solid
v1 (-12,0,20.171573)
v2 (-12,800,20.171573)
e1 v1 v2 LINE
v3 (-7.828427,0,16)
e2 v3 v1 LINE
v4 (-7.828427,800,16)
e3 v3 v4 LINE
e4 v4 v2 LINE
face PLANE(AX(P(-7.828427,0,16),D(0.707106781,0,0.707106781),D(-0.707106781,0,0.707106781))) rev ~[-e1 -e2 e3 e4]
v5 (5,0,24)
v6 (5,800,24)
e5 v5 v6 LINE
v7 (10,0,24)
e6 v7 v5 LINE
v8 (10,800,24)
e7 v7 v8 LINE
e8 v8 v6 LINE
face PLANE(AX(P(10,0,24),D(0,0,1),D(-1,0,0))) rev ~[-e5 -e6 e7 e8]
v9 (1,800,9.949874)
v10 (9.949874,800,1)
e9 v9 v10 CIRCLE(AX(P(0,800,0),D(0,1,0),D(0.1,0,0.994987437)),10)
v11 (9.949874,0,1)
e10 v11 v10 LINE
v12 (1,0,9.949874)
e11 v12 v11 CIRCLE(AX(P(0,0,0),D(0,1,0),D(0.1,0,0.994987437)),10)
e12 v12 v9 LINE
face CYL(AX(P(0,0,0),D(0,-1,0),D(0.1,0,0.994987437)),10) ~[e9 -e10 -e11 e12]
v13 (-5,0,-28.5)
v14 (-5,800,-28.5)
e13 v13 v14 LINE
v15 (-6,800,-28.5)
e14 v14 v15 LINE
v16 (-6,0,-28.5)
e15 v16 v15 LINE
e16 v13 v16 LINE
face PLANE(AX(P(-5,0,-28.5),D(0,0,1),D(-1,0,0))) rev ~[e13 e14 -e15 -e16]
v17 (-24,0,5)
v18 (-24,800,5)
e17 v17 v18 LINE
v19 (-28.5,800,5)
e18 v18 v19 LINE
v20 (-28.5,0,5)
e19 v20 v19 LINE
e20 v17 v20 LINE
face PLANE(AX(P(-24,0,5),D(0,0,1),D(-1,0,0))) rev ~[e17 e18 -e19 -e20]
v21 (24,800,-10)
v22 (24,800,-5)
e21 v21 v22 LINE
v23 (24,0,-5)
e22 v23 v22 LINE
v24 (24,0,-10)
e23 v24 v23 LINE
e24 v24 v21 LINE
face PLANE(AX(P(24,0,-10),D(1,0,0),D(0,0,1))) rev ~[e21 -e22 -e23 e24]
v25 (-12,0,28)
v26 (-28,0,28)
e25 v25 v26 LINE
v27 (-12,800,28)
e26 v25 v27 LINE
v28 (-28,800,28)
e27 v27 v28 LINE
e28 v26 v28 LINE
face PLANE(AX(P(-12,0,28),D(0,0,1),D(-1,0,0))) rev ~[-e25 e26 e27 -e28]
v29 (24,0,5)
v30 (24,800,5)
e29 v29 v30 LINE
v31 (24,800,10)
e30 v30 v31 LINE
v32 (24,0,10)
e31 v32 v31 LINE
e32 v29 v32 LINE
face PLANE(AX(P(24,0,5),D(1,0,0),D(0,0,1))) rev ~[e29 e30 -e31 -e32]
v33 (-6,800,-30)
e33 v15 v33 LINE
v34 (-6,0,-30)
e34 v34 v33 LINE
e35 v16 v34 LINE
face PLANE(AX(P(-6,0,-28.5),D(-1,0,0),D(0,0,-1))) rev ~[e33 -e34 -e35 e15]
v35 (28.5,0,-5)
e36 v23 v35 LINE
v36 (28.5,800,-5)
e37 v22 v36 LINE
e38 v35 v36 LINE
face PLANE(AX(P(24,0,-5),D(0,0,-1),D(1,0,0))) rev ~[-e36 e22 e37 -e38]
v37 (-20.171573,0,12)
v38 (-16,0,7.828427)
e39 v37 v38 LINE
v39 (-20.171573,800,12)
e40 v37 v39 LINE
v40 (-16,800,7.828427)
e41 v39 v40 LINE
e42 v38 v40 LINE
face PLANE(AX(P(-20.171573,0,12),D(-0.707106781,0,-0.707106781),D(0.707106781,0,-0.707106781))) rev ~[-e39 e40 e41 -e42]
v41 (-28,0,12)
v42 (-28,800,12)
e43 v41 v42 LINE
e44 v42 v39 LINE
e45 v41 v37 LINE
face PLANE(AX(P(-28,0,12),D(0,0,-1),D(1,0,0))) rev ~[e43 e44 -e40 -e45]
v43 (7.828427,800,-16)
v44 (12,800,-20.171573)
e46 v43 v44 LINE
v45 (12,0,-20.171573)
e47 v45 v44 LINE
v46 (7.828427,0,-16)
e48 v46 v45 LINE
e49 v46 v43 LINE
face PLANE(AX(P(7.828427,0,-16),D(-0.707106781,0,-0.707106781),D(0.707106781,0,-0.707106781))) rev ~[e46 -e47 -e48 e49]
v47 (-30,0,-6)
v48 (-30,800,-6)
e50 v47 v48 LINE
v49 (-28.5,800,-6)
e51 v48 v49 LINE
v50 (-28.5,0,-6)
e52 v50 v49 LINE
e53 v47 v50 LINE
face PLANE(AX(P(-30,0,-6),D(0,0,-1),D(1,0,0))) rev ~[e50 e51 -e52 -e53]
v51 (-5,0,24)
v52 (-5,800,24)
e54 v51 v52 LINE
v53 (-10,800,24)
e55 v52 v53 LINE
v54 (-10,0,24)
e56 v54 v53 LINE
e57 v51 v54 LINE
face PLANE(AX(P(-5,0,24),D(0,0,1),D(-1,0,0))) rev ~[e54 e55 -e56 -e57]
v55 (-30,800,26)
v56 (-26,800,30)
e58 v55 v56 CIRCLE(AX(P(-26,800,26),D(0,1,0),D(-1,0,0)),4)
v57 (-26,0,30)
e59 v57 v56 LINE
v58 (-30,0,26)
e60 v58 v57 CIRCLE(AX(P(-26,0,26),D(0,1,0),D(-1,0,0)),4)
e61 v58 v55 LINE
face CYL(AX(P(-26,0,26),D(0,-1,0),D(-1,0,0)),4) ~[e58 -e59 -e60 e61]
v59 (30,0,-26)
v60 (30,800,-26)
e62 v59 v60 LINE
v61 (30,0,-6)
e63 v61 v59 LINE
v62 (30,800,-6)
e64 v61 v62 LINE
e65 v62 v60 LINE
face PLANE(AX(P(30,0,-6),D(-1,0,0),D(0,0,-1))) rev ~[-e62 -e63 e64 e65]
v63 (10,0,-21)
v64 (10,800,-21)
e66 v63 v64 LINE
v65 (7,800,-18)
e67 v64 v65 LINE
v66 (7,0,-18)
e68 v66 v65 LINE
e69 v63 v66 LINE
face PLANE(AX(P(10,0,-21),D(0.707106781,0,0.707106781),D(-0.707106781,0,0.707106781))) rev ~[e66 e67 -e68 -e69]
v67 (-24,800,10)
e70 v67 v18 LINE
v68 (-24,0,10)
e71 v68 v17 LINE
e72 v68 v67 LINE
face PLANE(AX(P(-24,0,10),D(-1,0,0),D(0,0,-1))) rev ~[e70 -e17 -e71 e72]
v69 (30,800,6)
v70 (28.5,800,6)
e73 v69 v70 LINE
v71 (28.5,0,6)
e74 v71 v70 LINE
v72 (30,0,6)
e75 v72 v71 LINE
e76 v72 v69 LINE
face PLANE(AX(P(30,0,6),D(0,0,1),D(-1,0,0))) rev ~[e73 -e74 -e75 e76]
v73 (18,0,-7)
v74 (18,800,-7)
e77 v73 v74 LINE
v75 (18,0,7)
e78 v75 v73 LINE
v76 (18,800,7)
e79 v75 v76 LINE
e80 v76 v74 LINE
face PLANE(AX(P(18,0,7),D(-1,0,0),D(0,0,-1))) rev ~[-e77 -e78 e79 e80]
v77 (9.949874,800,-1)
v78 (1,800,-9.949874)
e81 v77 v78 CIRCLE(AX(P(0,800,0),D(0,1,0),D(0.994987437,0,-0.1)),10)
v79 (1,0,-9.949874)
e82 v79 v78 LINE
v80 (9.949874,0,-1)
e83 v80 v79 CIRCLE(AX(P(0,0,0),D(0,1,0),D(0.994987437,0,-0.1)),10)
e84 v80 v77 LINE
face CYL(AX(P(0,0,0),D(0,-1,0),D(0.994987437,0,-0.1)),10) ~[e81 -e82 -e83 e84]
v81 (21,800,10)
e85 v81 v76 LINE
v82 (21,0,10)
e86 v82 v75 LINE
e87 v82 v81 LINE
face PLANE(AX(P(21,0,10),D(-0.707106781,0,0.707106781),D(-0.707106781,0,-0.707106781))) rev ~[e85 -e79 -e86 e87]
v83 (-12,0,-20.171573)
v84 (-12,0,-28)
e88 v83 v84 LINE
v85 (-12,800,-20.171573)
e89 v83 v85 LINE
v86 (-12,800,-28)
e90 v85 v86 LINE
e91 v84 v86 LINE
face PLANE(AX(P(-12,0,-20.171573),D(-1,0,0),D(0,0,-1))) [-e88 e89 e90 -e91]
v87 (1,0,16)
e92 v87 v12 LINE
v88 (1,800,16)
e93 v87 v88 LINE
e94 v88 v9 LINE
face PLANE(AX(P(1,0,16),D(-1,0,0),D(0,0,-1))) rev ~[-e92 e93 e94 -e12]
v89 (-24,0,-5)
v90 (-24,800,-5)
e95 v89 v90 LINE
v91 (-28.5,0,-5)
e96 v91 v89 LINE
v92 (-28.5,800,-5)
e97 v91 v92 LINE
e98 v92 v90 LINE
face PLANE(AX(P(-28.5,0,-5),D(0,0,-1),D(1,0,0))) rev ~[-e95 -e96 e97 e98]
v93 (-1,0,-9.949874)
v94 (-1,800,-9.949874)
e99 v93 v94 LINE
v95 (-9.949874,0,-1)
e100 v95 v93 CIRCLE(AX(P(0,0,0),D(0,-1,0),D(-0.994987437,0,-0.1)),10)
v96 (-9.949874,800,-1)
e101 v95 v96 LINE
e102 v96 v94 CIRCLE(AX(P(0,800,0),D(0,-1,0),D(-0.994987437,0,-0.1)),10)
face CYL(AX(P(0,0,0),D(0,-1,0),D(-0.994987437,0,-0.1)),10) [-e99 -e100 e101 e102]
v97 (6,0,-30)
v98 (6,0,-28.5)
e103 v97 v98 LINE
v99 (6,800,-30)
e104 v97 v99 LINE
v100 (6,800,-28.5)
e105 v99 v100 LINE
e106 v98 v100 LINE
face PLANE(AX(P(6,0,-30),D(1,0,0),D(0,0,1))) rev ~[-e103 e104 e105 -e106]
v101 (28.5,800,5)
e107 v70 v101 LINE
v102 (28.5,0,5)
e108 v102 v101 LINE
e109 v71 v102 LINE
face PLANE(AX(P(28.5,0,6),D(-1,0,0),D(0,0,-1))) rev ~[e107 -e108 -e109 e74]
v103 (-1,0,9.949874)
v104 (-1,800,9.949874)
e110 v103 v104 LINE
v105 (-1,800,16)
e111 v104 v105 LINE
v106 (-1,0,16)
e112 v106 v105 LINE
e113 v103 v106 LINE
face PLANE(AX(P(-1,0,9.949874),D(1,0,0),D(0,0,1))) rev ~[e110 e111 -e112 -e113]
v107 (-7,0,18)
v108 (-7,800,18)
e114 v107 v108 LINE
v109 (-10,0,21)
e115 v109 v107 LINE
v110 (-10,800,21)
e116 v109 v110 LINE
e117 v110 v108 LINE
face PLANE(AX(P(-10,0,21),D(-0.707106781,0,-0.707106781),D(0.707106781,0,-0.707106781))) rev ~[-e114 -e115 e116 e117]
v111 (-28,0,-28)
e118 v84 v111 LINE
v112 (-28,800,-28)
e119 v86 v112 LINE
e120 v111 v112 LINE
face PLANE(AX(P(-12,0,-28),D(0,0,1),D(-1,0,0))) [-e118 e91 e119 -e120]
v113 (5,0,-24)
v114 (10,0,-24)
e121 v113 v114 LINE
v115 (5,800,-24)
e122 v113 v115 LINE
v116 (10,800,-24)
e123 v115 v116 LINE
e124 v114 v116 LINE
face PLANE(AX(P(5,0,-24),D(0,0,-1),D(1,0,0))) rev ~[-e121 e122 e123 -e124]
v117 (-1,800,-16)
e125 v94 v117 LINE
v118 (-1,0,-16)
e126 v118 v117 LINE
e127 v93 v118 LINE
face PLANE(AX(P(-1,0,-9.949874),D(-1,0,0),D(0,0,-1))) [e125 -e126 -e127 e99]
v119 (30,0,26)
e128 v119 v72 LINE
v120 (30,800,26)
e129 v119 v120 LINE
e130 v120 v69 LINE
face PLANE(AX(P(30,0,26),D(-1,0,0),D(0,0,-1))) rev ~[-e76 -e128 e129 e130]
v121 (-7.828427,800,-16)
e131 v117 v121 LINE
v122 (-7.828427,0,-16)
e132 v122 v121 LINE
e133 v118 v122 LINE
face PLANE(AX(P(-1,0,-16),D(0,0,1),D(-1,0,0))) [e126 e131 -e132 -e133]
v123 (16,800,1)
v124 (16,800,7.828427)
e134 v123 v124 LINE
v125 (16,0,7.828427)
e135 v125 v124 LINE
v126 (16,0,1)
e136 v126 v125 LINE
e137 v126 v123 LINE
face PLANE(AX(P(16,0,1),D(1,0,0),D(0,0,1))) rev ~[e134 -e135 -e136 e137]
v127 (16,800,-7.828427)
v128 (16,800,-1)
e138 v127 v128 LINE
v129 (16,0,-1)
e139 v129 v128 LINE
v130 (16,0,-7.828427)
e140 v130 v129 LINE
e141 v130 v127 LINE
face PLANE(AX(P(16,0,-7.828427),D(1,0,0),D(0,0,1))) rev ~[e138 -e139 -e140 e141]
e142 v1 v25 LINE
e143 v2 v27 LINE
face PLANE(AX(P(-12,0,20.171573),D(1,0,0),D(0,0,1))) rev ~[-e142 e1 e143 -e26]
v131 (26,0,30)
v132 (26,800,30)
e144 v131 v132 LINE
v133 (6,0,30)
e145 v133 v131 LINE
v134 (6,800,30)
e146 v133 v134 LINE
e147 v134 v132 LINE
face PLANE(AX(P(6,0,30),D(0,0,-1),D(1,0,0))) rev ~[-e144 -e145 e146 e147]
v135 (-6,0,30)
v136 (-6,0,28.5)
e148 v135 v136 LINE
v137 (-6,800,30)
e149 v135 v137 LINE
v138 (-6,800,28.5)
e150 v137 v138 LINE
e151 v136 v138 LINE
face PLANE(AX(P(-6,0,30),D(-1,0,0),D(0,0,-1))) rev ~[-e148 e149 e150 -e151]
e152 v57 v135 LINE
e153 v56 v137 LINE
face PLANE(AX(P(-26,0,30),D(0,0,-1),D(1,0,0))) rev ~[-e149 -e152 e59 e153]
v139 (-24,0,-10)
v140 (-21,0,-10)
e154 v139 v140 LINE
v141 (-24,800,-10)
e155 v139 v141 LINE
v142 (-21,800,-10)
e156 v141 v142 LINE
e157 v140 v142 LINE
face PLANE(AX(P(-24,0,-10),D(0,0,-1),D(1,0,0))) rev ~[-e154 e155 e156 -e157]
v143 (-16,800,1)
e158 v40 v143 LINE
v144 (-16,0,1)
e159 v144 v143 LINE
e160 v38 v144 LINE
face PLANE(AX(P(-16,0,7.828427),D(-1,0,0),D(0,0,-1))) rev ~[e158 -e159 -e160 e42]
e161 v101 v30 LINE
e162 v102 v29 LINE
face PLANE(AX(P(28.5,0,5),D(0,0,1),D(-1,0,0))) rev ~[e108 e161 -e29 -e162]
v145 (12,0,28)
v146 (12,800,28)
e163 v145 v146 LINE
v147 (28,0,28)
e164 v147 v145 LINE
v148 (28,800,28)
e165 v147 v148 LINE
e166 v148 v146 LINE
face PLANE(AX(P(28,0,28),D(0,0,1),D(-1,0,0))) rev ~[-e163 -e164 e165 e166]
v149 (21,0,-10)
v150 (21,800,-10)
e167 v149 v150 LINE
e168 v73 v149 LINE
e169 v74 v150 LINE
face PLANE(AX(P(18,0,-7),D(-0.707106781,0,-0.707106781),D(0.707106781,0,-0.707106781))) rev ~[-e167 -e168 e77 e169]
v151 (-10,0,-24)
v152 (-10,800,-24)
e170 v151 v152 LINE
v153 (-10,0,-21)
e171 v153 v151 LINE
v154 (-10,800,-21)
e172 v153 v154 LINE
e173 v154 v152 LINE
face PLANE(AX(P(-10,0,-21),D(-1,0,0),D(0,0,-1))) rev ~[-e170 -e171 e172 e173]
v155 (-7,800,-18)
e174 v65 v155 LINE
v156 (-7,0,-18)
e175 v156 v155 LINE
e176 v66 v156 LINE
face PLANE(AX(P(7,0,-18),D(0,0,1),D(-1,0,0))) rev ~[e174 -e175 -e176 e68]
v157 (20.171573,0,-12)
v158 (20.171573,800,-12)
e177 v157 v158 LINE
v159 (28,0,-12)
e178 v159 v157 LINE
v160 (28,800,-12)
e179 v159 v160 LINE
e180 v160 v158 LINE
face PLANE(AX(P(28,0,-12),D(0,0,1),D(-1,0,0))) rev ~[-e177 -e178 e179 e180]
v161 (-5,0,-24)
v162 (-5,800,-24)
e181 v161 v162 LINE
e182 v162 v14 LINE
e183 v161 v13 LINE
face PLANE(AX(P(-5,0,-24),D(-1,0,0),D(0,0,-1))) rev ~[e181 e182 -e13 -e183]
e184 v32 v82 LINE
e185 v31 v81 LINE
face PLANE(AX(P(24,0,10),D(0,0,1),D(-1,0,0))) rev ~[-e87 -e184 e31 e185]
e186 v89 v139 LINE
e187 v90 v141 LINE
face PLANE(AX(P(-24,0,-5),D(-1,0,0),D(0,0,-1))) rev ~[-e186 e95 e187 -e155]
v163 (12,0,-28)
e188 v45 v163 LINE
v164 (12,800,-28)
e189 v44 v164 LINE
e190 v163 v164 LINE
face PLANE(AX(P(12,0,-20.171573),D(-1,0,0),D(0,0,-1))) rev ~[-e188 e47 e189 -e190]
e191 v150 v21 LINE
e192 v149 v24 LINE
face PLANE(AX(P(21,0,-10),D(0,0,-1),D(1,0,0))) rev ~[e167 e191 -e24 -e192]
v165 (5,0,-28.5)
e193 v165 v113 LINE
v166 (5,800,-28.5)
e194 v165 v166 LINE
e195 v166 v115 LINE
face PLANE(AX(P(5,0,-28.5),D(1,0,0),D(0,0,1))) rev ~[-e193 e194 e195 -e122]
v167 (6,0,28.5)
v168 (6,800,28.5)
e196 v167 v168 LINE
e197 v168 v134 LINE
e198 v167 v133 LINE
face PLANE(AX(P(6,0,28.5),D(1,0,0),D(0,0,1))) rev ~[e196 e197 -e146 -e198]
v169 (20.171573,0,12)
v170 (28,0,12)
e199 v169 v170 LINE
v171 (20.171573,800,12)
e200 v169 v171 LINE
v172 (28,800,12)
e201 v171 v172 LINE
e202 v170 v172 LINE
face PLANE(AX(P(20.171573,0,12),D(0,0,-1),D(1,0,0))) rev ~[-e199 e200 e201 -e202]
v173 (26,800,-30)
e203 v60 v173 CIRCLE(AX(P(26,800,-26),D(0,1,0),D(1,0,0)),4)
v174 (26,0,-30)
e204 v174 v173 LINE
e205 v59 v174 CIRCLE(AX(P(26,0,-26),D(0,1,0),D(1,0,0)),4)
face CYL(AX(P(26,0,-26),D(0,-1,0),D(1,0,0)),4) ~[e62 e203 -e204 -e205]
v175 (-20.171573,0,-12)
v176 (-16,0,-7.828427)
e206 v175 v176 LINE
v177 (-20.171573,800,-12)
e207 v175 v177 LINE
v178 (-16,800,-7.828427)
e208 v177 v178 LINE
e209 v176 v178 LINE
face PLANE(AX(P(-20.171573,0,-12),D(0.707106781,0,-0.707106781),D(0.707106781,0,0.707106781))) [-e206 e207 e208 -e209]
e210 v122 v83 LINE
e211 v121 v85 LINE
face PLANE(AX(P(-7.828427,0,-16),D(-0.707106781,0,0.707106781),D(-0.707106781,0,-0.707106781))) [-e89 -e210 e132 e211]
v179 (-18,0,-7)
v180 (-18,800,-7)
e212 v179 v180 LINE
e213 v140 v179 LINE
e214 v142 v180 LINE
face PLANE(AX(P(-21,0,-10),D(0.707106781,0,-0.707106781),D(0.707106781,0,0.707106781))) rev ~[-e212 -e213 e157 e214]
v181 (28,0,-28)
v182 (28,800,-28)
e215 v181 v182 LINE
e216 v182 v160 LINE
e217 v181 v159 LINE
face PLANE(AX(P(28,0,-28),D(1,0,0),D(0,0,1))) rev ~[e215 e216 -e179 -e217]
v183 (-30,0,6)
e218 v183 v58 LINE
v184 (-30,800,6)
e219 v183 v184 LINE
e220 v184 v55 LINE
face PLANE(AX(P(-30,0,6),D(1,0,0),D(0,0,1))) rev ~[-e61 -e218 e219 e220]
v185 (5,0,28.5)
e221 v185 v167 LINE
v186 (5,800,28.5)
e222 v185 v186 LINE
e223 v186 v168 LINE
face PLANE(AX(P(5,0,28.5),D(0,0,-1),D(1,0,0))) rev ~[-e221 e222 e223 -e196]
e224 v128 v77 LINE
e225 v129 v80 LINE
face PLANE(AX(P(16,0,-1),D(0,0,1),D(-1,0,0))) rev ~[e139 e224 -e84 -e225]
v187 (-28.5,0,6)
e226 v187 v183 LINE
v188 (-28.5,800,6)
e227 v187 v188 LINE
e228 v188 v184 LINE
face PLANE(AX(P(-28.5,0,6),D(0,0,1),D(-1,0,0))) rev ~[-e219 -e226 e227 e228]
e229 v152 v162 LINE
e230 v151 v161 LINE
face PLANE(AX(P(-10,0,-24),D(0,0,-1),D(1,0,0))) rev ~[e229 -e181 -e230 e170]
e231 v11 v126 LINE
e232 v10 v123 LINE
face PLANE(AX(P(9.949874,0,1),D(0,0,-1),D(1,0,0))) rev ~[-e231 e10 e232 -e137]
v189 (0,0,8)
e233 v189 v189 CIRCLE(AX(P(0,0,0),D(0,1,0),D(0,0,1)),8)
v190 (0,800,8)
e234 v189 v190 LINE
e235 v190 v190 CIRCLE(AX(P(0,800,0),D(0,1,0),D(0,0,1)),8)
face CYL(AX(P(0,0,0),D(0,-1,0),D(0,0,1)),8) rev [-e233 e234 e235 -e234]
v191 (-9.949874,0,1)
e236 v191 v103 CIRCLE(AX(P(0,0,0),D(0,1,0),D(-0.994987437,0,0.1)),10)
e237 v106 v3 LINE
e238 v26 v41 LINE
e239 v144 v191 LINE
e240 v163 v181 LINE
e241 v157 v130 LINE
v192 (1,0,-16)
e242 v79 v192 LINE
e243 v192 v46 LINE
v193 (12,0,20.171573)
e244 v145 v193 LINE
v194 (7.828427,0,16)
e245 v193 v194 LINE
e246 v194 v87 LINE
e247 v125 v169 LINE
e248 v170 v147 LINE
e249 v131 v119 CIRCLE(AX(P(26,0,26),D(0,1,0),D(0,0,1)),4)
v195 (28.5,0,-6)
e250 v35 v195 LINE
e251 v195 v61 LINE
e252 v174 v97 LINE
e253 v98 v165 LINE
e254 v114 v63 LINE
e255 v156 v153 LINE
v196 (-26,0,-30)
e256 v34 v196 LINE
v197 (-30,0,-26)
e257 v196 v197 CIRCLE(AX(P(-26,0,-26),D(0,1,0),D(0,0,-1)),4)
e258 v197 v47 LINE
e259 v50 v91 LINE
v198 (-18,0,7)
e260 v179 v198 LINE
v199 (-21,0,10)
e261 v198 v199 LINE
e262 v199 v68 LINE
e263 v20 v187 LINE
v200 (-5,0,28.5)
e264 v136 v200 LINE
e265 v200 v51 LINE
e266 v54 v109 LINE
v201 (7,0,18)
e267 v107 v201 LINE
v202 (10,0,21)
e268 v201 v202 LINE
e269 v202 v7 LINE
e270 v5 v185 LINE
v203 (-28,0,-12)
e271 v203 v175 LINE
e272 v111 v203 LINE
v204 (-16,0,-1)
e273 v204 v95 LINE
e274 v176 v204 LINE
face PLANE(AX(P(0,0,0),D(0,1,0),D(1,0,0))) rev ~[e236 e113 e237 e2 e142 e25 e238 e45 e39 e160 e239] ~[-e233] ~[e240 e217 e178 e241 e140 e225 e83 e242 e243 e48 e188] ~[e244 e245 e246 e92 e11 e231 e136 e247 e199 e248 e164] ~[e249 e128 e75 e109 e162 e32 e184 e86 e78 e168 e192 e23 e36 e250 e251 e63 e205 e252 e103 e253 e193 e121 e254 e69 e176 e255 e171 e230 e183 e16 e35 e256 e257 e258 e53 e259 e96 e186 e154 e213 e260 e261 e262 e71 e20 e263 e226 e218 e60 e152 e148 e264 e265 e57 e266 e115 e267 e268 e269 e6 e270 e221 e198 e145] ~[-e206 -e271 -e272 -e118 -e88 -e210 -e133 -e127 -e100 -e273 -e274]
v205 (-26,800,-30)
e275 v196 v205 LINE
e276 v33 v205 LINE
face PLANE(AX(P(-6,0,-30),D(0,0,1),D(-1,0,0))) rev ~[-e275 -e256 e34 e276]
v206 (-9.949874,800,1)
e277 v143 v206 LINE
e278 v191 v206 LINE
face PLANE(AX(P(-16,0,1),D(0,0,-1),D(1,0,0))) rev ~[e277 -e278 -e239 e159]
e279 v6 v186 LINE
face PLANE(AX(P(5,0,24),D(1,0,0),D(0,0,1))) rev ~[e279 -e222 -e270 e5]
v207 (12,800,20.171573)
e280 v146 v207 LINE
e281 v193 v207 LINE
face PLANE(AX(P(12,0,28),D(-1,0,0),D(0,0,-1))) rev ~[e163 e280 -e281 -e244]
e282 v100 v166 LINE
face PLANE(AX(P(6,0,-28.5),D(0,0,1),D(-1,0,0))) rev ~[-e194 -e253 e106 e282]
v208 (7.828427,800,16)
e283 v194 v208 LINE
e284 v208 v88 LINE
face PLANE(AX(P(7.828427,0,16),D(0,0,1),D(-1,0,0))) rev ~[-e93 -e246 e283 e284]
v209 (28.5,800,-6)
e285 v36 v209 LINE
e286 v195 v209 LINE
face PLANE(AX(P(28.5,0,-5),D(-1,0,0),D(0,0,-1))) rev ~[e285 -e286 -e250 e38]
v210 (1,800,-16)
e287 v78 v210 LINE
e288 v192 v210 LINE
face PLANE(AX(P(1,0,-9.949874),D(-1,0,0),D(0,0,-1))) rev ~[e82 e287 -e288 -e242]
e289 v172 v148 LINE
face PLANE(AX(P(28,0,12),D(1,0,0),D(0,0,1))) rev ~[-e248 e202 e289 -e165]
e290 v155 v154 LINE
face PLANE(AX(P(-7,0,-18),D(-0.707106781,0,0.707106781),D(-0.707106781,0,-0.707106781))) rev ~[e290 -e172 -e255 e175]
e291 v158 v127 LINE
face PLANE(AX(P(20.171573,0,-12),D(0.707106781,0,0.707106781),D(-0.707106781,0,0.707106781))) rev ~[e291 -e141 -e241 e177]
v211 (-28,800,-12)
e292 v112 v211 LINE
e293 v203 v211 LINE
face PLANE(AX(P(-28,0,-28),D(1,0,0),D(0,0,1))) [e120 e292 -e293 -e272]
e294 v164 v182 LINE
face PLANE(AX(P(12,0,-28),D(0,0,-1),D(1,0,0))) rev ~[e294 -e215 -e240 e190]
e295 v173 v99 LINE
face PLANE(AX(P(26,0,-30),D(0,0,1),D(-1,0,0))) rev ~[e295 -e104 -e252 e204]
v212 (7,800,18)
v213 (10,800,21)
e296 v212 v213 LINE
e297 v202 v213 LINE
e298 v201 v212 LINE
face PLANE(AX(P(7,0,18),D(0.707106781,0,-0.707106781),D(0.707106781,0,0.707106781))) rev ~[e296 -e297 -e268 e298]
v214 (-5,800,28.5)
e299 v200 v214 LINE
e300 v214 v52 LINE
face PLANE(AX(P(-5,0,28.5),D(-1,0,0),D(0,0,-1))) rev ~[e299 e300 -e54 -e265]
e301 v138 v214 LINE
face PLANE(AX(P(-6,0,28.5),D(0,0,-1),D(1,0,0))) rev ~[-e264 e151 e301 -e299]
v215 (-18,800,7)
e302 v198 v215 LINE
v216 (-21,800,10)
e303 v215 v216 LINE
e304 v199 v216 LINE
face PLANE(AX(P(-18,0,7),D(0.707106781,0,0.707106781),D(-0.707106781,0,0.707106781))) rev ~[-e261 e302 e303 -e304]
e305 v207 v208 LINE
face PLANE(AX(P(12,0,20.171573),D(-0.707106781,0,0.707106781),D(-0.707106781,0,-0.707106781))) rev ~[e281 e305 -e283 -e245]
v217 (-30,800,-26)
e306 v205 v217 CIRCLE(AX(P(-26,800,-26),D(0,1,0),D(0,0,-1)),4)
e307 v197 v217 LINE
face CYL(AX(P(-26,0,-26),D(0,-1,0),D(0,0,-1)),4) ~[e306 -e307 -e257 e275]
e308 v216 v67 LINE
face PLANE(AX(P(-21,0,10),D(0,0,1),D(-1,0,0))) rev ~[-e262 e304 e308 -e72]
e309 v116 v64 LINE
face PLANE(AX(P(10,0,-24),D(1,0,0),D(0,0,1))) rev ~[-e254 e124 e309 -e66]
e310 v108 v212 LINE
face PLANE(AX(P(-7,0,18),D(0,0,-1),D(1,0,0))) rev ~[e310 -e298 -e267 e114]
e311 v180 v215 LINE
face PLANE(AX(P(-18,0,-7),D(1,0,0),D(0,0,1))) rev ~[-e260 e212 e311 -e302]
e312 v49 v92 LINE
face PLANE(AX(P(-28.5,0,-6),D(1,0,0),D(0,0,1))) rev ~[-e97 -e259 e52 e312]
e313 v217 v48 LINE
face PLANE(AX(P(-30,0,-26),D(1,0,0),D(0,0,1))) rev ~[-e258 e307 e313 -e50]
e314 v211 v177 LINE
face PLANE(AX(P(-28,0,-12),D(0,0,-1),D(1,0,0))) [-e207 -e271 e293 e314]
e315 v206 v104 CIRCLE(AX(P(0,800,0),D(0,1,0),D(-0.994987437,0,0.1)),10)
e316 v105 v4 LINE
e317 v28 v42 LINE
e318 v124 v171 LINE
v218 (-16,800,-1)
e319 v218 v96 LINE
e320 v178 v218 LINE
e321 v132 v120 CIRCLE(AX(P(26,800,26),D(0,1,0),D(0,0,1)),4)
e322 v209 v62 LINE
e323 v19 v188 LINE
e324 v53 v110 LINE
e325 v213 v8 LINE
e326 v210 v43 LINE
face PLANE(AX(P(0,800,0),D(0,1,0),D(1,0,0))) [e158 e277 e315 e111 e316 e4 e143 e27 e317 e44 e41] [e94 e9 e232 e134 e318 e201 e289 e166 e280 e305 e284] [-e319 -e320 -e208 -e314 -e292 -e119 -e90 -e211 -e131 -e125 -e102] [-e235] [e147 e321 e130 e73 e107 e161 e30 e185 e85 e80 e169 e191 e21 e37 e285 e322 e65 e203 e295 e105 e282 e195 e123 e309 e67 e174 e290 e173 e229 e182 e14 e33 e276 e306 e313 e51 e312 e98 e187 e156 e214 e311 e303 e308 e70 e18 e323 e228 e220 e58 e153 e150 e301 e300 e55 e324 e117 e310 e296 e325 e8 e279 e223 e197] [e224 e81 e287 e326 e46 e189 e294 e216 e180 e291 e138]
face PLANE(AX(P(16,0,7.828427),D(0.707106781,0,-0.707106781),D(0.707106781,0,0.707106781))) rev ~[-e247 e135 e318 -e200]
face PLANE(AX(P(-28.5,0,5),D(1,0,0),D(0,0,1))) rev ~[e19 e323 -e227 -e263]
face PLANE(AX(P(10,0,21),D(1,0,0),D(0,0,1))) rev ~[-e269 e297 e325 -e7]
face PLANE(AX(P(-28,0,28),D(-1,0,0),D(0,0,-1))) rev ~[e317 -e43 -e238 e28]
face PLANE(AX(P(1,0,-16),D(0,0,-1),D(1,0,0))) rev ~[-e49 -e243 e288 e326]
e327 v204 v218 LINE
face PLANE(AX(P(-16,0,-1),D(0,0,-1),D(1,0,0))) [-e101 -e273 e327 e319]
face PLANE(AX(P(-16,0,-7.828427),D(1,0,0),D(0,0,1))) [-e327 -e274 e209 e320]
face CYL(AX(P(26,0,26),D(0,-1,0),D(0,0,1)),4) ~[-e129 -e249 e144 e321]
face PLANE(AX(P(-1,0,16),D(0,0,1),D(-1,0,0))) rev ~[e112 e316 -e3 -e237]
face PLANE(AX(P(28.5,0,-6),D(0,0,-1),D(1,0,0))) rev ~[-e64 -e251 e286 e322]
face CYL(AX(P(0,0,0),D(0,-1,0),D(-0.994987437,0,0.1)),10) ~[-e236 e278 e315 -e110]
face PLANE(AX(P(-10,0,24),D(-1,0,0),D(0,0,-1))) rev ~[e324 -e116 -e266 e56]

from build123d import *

# Parameters (mm, degrees)
SKETCH_1_R      = 8
EXTRUDE_1_DEPTH = 800


with BuildPart() as part:
    # 草图1 → 凸台-拉伸1 (new body)
    with BuildSketch(Plane(origin=(0, 0, 0), x_dir=(1, 0, 0), z_dir=(0, 1, 0))):
        with BuildLine():
            Line((-30, 5.999999999), (-28.5, 5.999999999))
            Line((-28.5, 5.999999999), (-28.5, 4.999999999))
            Line((-28.5, 4.999999999), (-24, 4.999999999))
            Line((-24, 4.999999999), (-24, 9.999999999))
            Line((-24, 9.999999999), (-21, 9.999999999))
            Line((-21, 9.999999999), (-18, 6.999999999))
            Line((-18, 6.999999999), (-18, -7.000000001))
            Line((-18, -7.000000001), (-21, -10.000000001))
            Line((-21, -10.000000001), (-24, -10.000000001))
            Line((-24, -10.000000001), (-24, -5.000000001))
            Line((-24, -5.000000001), (-28.5, -5.000000001))
            Line((-28.5, -5.000000001), (-28.5, -6.000000001))
            Line((-28.5, -6.000000001), (-30, -6.000000001))
            Line((-30, -6.000000001), (-30, -26.000000001))
            ThreePointArc((-30, -26.000000001), (-28.828427125, -28.828427126), (-26, -30.000000001))
            Line((-26, -30.000000001), (-6, -30.000000001))
            Line((-6, -30.000000001), (-6, -28.500000001))
            Line((-6, -28.500000001), (-5, -28.500000001))
            Line((-5, -28.500000001), (-5, -24.000000001))
            Line((-5, -24.000000001), (-10, -24.000000001))
            Line((-10, -24.000000001), (-10, -21.000000001))
            Line((-10, -21.000000001), (-7, -18.000000001))
            Line((-7, -18.000000001), (7, -18.000000001))
            Line((7, -18.000000001), (10, -21.000000001))
            Line((10, -21.000000001), (10, -24.000000001))
            Line((10, -24.000000001), (5, -24.000000001))
            Line((5, -24.000000001), (5, -28.500000001))
            Line((5, -28.500000001), (6, -28.500000001))
            Line((6, -28.500000001), (6, -30.000000001))
            Line((6, -30.000000001), (26, -30.000000001))
            ThreePointArc((26, -30.000000001), (28.828427125, -28.828427126), (30, -26.000000001))
            Line((30, -26.000000001), (30, -6.000000001))
            Line((30, -6.000000001), (28.5, -6.000000001))
            Line((28.5, -6.000000001), (28.5, -5.000000001))
            Line((28.5, -5.000000001), (24, -5.000000001))
            Line((24, -5.000000001), (24, -10.000000001))
            Line((24, -10.000000001), (21, -10.000000001))
            Line((21, -10.000000001), (18, -7.000000001))
            Line((18, -7.000000001), (18, 6.999999999))
            Line((18, 6.999999999), (21, 9.999999999))
            Line((21, 9.999999999), (24, 9.999999999))
            Line((24, 9.999999999), (24, 4.999999999))
            Line((24, 4.999999999), (28.5, 4.999999999))
            Line((28.5, 4.999999999), (28.5, 5.999999999))
            Line((28.5, 5.999999999), (30, 5.999999999))
            Line((30, 5.999999999), (30, 25.999999999))
            ThreePointArc((30, 25.999999999), (28.828427125, 28.828427124), (26, 29.999999999))
            Line((26, 29.999999999), (6, 29.999999999))
            Line((6, 29.999999999), (6, 28.499999999))
            Line((6, 28.499999999), (5, 28.499999999))
            Line((5, 28.499999999), (5, 23.999999999))
            Line((5, 23.999999999), (10, 23.999999999))
            Line((10, 23.999999999), (10, 20.999999999))
            Line((10, 20.999999999), (7, 17.999999999))
            Line((7, 17.999999999), (-7, 17.999999999))
            Line((-7, 17.999999999), (-10, 20.999999999))
            Line((-10, 20.999999999), (-10, 23.999999999))
            Line((-10, 23.999999999), (-5, 23.999999999))
            Line((-5, 23.999999999), (-5, 28.499999999))
            Line((-5, 28.499999999), (-6, 28.499999999))
            Line((-6, 28.499999999), (-6, 29.999999999))
            Line((-6, 29.999999999), (-26.000000001, 29.999999999))
            ThreePointArc((-26.000000001, 29.999999999), (-28.828427125, 28.828427123), (-30, 25.999999999))
            Line((-30, 25.999999999), (-30, 5.999999999))
        make_face()
        with Locations(Location((0, 0, 0), (0, 0, 270))):
            Circle(SKETCH_1_R, mode=Mode.SUBTRACT)
        with BuildLine():
            Line((-16, 1), (-9.949874371, 1))
            ThreePointArc((-9.949874371, 1), (-7.071067812, 7.071067811), (-1.000000001, 9.949874371))
            Line((-1.000000001, 9.949874371), (-1.000000001, 16))
            Line((-1.000000001, 16), (-7.828427125, 16))
            Line((-7.828427125, 16), (-12, 20.171572875))
            Line((-12, 20.171572875), (-12, 28))
            Line((-12, 28), (-28, 28))
            Line((-28, 28), (-28, 12))
            Line((-28, 12), (-20.171572875, 12))
            Line((-20.171572875, 12), (-16, 7.828427125))
            Line((-16, 7.828427125), (-16, 1))
        make_face(mode=Mode.SUBTRACT)
        with BuildLine():
            Line((1, 9.949874371), (1, 16))
            Line((1, 16), (7.828427125, 16))
            Line((7.828427125, 16), (12, 20.171572875))
            Line((12, 20.171572875), (12, 28))
            Line((12, 28), (28, 28))
            Line((28, 28), (28, 12.000000001))
            Line((28, 12.000000001), (20.171572875, 12.000000001))
            Line((20.171572875, 12.000000001), (16, 7.828427126))
            Line((16, 7.828427126), (16, 1.000000001))
            Line((16, 1.000000001), (9.949874371, 1.000000001))
            ThreePointArc((9.949874371, 1.000000001), (7.071067811, 7.071067812), (1, 9.949874371))
        make_face(mode=Mode.SUBTRACT)
        with BuildLine():
            Line((9.949874371, -1), (16, -1))
            Line((16, -1), (16, -7.828427125))
            Line((16, -7.828427125), (20.171572875, -12))
            Line((20.171572875, -12), (28.000000001, -12))
            Line((28.000000001, -12), (28.000000001, -28))
            Line((28.000000001, -28), (12.000000001, -28))
            Line((12.000000001, -28), (12.000000001, -20.171572875))
            Line((12.000000001, -20.171572875), (7.828427126, -16))
            Line((7.828427126, -16), (1.000000001, -16))
            Line((1.000000001, -16), (1.000000001, -9.949874371))
            ThreePointArc((1.000000001, -9.949874371), (7.071067812, -7.071067811), (9.949874371, -1))
        make_face(mode=Mode.SUBTRACT)
        with BuildLine():
            Line((-1, -9.949874371), (-1, -16.000000001))
            Line((-1, -16.000000001), (-7.828427125, -16.000000001))
            Line((-7.828427125, -16.000000001), (-12, -20.171572876))
            Line((-12, -20.171572876), (-12, -28.000000001))
            Line((-12, -28.000000001), (-28, -28.000000001))
            Line((-28, -28.000000001), (-28, -12.000000001))
            Line((-28, -12.000000001), (-20.171572875, -12.000000001))
            Line((-20.171572875, -12.000000001), (-16, -7.828427126))
            Line((-16, -7.828427126), (-16, -1.000000001))
            Line((-16, -1.000000001), (-9.949874371, -1.000000001))
            ThreePointArc((-9.949874371, -1.000000001), (-7.071067811, -7.071067812), (-1, -9.949874371))
        make_face(mode=Mode.SUBTRACT)
    extrude(amount=EXTRUDE_1_DEPTH)


solid = part.part
